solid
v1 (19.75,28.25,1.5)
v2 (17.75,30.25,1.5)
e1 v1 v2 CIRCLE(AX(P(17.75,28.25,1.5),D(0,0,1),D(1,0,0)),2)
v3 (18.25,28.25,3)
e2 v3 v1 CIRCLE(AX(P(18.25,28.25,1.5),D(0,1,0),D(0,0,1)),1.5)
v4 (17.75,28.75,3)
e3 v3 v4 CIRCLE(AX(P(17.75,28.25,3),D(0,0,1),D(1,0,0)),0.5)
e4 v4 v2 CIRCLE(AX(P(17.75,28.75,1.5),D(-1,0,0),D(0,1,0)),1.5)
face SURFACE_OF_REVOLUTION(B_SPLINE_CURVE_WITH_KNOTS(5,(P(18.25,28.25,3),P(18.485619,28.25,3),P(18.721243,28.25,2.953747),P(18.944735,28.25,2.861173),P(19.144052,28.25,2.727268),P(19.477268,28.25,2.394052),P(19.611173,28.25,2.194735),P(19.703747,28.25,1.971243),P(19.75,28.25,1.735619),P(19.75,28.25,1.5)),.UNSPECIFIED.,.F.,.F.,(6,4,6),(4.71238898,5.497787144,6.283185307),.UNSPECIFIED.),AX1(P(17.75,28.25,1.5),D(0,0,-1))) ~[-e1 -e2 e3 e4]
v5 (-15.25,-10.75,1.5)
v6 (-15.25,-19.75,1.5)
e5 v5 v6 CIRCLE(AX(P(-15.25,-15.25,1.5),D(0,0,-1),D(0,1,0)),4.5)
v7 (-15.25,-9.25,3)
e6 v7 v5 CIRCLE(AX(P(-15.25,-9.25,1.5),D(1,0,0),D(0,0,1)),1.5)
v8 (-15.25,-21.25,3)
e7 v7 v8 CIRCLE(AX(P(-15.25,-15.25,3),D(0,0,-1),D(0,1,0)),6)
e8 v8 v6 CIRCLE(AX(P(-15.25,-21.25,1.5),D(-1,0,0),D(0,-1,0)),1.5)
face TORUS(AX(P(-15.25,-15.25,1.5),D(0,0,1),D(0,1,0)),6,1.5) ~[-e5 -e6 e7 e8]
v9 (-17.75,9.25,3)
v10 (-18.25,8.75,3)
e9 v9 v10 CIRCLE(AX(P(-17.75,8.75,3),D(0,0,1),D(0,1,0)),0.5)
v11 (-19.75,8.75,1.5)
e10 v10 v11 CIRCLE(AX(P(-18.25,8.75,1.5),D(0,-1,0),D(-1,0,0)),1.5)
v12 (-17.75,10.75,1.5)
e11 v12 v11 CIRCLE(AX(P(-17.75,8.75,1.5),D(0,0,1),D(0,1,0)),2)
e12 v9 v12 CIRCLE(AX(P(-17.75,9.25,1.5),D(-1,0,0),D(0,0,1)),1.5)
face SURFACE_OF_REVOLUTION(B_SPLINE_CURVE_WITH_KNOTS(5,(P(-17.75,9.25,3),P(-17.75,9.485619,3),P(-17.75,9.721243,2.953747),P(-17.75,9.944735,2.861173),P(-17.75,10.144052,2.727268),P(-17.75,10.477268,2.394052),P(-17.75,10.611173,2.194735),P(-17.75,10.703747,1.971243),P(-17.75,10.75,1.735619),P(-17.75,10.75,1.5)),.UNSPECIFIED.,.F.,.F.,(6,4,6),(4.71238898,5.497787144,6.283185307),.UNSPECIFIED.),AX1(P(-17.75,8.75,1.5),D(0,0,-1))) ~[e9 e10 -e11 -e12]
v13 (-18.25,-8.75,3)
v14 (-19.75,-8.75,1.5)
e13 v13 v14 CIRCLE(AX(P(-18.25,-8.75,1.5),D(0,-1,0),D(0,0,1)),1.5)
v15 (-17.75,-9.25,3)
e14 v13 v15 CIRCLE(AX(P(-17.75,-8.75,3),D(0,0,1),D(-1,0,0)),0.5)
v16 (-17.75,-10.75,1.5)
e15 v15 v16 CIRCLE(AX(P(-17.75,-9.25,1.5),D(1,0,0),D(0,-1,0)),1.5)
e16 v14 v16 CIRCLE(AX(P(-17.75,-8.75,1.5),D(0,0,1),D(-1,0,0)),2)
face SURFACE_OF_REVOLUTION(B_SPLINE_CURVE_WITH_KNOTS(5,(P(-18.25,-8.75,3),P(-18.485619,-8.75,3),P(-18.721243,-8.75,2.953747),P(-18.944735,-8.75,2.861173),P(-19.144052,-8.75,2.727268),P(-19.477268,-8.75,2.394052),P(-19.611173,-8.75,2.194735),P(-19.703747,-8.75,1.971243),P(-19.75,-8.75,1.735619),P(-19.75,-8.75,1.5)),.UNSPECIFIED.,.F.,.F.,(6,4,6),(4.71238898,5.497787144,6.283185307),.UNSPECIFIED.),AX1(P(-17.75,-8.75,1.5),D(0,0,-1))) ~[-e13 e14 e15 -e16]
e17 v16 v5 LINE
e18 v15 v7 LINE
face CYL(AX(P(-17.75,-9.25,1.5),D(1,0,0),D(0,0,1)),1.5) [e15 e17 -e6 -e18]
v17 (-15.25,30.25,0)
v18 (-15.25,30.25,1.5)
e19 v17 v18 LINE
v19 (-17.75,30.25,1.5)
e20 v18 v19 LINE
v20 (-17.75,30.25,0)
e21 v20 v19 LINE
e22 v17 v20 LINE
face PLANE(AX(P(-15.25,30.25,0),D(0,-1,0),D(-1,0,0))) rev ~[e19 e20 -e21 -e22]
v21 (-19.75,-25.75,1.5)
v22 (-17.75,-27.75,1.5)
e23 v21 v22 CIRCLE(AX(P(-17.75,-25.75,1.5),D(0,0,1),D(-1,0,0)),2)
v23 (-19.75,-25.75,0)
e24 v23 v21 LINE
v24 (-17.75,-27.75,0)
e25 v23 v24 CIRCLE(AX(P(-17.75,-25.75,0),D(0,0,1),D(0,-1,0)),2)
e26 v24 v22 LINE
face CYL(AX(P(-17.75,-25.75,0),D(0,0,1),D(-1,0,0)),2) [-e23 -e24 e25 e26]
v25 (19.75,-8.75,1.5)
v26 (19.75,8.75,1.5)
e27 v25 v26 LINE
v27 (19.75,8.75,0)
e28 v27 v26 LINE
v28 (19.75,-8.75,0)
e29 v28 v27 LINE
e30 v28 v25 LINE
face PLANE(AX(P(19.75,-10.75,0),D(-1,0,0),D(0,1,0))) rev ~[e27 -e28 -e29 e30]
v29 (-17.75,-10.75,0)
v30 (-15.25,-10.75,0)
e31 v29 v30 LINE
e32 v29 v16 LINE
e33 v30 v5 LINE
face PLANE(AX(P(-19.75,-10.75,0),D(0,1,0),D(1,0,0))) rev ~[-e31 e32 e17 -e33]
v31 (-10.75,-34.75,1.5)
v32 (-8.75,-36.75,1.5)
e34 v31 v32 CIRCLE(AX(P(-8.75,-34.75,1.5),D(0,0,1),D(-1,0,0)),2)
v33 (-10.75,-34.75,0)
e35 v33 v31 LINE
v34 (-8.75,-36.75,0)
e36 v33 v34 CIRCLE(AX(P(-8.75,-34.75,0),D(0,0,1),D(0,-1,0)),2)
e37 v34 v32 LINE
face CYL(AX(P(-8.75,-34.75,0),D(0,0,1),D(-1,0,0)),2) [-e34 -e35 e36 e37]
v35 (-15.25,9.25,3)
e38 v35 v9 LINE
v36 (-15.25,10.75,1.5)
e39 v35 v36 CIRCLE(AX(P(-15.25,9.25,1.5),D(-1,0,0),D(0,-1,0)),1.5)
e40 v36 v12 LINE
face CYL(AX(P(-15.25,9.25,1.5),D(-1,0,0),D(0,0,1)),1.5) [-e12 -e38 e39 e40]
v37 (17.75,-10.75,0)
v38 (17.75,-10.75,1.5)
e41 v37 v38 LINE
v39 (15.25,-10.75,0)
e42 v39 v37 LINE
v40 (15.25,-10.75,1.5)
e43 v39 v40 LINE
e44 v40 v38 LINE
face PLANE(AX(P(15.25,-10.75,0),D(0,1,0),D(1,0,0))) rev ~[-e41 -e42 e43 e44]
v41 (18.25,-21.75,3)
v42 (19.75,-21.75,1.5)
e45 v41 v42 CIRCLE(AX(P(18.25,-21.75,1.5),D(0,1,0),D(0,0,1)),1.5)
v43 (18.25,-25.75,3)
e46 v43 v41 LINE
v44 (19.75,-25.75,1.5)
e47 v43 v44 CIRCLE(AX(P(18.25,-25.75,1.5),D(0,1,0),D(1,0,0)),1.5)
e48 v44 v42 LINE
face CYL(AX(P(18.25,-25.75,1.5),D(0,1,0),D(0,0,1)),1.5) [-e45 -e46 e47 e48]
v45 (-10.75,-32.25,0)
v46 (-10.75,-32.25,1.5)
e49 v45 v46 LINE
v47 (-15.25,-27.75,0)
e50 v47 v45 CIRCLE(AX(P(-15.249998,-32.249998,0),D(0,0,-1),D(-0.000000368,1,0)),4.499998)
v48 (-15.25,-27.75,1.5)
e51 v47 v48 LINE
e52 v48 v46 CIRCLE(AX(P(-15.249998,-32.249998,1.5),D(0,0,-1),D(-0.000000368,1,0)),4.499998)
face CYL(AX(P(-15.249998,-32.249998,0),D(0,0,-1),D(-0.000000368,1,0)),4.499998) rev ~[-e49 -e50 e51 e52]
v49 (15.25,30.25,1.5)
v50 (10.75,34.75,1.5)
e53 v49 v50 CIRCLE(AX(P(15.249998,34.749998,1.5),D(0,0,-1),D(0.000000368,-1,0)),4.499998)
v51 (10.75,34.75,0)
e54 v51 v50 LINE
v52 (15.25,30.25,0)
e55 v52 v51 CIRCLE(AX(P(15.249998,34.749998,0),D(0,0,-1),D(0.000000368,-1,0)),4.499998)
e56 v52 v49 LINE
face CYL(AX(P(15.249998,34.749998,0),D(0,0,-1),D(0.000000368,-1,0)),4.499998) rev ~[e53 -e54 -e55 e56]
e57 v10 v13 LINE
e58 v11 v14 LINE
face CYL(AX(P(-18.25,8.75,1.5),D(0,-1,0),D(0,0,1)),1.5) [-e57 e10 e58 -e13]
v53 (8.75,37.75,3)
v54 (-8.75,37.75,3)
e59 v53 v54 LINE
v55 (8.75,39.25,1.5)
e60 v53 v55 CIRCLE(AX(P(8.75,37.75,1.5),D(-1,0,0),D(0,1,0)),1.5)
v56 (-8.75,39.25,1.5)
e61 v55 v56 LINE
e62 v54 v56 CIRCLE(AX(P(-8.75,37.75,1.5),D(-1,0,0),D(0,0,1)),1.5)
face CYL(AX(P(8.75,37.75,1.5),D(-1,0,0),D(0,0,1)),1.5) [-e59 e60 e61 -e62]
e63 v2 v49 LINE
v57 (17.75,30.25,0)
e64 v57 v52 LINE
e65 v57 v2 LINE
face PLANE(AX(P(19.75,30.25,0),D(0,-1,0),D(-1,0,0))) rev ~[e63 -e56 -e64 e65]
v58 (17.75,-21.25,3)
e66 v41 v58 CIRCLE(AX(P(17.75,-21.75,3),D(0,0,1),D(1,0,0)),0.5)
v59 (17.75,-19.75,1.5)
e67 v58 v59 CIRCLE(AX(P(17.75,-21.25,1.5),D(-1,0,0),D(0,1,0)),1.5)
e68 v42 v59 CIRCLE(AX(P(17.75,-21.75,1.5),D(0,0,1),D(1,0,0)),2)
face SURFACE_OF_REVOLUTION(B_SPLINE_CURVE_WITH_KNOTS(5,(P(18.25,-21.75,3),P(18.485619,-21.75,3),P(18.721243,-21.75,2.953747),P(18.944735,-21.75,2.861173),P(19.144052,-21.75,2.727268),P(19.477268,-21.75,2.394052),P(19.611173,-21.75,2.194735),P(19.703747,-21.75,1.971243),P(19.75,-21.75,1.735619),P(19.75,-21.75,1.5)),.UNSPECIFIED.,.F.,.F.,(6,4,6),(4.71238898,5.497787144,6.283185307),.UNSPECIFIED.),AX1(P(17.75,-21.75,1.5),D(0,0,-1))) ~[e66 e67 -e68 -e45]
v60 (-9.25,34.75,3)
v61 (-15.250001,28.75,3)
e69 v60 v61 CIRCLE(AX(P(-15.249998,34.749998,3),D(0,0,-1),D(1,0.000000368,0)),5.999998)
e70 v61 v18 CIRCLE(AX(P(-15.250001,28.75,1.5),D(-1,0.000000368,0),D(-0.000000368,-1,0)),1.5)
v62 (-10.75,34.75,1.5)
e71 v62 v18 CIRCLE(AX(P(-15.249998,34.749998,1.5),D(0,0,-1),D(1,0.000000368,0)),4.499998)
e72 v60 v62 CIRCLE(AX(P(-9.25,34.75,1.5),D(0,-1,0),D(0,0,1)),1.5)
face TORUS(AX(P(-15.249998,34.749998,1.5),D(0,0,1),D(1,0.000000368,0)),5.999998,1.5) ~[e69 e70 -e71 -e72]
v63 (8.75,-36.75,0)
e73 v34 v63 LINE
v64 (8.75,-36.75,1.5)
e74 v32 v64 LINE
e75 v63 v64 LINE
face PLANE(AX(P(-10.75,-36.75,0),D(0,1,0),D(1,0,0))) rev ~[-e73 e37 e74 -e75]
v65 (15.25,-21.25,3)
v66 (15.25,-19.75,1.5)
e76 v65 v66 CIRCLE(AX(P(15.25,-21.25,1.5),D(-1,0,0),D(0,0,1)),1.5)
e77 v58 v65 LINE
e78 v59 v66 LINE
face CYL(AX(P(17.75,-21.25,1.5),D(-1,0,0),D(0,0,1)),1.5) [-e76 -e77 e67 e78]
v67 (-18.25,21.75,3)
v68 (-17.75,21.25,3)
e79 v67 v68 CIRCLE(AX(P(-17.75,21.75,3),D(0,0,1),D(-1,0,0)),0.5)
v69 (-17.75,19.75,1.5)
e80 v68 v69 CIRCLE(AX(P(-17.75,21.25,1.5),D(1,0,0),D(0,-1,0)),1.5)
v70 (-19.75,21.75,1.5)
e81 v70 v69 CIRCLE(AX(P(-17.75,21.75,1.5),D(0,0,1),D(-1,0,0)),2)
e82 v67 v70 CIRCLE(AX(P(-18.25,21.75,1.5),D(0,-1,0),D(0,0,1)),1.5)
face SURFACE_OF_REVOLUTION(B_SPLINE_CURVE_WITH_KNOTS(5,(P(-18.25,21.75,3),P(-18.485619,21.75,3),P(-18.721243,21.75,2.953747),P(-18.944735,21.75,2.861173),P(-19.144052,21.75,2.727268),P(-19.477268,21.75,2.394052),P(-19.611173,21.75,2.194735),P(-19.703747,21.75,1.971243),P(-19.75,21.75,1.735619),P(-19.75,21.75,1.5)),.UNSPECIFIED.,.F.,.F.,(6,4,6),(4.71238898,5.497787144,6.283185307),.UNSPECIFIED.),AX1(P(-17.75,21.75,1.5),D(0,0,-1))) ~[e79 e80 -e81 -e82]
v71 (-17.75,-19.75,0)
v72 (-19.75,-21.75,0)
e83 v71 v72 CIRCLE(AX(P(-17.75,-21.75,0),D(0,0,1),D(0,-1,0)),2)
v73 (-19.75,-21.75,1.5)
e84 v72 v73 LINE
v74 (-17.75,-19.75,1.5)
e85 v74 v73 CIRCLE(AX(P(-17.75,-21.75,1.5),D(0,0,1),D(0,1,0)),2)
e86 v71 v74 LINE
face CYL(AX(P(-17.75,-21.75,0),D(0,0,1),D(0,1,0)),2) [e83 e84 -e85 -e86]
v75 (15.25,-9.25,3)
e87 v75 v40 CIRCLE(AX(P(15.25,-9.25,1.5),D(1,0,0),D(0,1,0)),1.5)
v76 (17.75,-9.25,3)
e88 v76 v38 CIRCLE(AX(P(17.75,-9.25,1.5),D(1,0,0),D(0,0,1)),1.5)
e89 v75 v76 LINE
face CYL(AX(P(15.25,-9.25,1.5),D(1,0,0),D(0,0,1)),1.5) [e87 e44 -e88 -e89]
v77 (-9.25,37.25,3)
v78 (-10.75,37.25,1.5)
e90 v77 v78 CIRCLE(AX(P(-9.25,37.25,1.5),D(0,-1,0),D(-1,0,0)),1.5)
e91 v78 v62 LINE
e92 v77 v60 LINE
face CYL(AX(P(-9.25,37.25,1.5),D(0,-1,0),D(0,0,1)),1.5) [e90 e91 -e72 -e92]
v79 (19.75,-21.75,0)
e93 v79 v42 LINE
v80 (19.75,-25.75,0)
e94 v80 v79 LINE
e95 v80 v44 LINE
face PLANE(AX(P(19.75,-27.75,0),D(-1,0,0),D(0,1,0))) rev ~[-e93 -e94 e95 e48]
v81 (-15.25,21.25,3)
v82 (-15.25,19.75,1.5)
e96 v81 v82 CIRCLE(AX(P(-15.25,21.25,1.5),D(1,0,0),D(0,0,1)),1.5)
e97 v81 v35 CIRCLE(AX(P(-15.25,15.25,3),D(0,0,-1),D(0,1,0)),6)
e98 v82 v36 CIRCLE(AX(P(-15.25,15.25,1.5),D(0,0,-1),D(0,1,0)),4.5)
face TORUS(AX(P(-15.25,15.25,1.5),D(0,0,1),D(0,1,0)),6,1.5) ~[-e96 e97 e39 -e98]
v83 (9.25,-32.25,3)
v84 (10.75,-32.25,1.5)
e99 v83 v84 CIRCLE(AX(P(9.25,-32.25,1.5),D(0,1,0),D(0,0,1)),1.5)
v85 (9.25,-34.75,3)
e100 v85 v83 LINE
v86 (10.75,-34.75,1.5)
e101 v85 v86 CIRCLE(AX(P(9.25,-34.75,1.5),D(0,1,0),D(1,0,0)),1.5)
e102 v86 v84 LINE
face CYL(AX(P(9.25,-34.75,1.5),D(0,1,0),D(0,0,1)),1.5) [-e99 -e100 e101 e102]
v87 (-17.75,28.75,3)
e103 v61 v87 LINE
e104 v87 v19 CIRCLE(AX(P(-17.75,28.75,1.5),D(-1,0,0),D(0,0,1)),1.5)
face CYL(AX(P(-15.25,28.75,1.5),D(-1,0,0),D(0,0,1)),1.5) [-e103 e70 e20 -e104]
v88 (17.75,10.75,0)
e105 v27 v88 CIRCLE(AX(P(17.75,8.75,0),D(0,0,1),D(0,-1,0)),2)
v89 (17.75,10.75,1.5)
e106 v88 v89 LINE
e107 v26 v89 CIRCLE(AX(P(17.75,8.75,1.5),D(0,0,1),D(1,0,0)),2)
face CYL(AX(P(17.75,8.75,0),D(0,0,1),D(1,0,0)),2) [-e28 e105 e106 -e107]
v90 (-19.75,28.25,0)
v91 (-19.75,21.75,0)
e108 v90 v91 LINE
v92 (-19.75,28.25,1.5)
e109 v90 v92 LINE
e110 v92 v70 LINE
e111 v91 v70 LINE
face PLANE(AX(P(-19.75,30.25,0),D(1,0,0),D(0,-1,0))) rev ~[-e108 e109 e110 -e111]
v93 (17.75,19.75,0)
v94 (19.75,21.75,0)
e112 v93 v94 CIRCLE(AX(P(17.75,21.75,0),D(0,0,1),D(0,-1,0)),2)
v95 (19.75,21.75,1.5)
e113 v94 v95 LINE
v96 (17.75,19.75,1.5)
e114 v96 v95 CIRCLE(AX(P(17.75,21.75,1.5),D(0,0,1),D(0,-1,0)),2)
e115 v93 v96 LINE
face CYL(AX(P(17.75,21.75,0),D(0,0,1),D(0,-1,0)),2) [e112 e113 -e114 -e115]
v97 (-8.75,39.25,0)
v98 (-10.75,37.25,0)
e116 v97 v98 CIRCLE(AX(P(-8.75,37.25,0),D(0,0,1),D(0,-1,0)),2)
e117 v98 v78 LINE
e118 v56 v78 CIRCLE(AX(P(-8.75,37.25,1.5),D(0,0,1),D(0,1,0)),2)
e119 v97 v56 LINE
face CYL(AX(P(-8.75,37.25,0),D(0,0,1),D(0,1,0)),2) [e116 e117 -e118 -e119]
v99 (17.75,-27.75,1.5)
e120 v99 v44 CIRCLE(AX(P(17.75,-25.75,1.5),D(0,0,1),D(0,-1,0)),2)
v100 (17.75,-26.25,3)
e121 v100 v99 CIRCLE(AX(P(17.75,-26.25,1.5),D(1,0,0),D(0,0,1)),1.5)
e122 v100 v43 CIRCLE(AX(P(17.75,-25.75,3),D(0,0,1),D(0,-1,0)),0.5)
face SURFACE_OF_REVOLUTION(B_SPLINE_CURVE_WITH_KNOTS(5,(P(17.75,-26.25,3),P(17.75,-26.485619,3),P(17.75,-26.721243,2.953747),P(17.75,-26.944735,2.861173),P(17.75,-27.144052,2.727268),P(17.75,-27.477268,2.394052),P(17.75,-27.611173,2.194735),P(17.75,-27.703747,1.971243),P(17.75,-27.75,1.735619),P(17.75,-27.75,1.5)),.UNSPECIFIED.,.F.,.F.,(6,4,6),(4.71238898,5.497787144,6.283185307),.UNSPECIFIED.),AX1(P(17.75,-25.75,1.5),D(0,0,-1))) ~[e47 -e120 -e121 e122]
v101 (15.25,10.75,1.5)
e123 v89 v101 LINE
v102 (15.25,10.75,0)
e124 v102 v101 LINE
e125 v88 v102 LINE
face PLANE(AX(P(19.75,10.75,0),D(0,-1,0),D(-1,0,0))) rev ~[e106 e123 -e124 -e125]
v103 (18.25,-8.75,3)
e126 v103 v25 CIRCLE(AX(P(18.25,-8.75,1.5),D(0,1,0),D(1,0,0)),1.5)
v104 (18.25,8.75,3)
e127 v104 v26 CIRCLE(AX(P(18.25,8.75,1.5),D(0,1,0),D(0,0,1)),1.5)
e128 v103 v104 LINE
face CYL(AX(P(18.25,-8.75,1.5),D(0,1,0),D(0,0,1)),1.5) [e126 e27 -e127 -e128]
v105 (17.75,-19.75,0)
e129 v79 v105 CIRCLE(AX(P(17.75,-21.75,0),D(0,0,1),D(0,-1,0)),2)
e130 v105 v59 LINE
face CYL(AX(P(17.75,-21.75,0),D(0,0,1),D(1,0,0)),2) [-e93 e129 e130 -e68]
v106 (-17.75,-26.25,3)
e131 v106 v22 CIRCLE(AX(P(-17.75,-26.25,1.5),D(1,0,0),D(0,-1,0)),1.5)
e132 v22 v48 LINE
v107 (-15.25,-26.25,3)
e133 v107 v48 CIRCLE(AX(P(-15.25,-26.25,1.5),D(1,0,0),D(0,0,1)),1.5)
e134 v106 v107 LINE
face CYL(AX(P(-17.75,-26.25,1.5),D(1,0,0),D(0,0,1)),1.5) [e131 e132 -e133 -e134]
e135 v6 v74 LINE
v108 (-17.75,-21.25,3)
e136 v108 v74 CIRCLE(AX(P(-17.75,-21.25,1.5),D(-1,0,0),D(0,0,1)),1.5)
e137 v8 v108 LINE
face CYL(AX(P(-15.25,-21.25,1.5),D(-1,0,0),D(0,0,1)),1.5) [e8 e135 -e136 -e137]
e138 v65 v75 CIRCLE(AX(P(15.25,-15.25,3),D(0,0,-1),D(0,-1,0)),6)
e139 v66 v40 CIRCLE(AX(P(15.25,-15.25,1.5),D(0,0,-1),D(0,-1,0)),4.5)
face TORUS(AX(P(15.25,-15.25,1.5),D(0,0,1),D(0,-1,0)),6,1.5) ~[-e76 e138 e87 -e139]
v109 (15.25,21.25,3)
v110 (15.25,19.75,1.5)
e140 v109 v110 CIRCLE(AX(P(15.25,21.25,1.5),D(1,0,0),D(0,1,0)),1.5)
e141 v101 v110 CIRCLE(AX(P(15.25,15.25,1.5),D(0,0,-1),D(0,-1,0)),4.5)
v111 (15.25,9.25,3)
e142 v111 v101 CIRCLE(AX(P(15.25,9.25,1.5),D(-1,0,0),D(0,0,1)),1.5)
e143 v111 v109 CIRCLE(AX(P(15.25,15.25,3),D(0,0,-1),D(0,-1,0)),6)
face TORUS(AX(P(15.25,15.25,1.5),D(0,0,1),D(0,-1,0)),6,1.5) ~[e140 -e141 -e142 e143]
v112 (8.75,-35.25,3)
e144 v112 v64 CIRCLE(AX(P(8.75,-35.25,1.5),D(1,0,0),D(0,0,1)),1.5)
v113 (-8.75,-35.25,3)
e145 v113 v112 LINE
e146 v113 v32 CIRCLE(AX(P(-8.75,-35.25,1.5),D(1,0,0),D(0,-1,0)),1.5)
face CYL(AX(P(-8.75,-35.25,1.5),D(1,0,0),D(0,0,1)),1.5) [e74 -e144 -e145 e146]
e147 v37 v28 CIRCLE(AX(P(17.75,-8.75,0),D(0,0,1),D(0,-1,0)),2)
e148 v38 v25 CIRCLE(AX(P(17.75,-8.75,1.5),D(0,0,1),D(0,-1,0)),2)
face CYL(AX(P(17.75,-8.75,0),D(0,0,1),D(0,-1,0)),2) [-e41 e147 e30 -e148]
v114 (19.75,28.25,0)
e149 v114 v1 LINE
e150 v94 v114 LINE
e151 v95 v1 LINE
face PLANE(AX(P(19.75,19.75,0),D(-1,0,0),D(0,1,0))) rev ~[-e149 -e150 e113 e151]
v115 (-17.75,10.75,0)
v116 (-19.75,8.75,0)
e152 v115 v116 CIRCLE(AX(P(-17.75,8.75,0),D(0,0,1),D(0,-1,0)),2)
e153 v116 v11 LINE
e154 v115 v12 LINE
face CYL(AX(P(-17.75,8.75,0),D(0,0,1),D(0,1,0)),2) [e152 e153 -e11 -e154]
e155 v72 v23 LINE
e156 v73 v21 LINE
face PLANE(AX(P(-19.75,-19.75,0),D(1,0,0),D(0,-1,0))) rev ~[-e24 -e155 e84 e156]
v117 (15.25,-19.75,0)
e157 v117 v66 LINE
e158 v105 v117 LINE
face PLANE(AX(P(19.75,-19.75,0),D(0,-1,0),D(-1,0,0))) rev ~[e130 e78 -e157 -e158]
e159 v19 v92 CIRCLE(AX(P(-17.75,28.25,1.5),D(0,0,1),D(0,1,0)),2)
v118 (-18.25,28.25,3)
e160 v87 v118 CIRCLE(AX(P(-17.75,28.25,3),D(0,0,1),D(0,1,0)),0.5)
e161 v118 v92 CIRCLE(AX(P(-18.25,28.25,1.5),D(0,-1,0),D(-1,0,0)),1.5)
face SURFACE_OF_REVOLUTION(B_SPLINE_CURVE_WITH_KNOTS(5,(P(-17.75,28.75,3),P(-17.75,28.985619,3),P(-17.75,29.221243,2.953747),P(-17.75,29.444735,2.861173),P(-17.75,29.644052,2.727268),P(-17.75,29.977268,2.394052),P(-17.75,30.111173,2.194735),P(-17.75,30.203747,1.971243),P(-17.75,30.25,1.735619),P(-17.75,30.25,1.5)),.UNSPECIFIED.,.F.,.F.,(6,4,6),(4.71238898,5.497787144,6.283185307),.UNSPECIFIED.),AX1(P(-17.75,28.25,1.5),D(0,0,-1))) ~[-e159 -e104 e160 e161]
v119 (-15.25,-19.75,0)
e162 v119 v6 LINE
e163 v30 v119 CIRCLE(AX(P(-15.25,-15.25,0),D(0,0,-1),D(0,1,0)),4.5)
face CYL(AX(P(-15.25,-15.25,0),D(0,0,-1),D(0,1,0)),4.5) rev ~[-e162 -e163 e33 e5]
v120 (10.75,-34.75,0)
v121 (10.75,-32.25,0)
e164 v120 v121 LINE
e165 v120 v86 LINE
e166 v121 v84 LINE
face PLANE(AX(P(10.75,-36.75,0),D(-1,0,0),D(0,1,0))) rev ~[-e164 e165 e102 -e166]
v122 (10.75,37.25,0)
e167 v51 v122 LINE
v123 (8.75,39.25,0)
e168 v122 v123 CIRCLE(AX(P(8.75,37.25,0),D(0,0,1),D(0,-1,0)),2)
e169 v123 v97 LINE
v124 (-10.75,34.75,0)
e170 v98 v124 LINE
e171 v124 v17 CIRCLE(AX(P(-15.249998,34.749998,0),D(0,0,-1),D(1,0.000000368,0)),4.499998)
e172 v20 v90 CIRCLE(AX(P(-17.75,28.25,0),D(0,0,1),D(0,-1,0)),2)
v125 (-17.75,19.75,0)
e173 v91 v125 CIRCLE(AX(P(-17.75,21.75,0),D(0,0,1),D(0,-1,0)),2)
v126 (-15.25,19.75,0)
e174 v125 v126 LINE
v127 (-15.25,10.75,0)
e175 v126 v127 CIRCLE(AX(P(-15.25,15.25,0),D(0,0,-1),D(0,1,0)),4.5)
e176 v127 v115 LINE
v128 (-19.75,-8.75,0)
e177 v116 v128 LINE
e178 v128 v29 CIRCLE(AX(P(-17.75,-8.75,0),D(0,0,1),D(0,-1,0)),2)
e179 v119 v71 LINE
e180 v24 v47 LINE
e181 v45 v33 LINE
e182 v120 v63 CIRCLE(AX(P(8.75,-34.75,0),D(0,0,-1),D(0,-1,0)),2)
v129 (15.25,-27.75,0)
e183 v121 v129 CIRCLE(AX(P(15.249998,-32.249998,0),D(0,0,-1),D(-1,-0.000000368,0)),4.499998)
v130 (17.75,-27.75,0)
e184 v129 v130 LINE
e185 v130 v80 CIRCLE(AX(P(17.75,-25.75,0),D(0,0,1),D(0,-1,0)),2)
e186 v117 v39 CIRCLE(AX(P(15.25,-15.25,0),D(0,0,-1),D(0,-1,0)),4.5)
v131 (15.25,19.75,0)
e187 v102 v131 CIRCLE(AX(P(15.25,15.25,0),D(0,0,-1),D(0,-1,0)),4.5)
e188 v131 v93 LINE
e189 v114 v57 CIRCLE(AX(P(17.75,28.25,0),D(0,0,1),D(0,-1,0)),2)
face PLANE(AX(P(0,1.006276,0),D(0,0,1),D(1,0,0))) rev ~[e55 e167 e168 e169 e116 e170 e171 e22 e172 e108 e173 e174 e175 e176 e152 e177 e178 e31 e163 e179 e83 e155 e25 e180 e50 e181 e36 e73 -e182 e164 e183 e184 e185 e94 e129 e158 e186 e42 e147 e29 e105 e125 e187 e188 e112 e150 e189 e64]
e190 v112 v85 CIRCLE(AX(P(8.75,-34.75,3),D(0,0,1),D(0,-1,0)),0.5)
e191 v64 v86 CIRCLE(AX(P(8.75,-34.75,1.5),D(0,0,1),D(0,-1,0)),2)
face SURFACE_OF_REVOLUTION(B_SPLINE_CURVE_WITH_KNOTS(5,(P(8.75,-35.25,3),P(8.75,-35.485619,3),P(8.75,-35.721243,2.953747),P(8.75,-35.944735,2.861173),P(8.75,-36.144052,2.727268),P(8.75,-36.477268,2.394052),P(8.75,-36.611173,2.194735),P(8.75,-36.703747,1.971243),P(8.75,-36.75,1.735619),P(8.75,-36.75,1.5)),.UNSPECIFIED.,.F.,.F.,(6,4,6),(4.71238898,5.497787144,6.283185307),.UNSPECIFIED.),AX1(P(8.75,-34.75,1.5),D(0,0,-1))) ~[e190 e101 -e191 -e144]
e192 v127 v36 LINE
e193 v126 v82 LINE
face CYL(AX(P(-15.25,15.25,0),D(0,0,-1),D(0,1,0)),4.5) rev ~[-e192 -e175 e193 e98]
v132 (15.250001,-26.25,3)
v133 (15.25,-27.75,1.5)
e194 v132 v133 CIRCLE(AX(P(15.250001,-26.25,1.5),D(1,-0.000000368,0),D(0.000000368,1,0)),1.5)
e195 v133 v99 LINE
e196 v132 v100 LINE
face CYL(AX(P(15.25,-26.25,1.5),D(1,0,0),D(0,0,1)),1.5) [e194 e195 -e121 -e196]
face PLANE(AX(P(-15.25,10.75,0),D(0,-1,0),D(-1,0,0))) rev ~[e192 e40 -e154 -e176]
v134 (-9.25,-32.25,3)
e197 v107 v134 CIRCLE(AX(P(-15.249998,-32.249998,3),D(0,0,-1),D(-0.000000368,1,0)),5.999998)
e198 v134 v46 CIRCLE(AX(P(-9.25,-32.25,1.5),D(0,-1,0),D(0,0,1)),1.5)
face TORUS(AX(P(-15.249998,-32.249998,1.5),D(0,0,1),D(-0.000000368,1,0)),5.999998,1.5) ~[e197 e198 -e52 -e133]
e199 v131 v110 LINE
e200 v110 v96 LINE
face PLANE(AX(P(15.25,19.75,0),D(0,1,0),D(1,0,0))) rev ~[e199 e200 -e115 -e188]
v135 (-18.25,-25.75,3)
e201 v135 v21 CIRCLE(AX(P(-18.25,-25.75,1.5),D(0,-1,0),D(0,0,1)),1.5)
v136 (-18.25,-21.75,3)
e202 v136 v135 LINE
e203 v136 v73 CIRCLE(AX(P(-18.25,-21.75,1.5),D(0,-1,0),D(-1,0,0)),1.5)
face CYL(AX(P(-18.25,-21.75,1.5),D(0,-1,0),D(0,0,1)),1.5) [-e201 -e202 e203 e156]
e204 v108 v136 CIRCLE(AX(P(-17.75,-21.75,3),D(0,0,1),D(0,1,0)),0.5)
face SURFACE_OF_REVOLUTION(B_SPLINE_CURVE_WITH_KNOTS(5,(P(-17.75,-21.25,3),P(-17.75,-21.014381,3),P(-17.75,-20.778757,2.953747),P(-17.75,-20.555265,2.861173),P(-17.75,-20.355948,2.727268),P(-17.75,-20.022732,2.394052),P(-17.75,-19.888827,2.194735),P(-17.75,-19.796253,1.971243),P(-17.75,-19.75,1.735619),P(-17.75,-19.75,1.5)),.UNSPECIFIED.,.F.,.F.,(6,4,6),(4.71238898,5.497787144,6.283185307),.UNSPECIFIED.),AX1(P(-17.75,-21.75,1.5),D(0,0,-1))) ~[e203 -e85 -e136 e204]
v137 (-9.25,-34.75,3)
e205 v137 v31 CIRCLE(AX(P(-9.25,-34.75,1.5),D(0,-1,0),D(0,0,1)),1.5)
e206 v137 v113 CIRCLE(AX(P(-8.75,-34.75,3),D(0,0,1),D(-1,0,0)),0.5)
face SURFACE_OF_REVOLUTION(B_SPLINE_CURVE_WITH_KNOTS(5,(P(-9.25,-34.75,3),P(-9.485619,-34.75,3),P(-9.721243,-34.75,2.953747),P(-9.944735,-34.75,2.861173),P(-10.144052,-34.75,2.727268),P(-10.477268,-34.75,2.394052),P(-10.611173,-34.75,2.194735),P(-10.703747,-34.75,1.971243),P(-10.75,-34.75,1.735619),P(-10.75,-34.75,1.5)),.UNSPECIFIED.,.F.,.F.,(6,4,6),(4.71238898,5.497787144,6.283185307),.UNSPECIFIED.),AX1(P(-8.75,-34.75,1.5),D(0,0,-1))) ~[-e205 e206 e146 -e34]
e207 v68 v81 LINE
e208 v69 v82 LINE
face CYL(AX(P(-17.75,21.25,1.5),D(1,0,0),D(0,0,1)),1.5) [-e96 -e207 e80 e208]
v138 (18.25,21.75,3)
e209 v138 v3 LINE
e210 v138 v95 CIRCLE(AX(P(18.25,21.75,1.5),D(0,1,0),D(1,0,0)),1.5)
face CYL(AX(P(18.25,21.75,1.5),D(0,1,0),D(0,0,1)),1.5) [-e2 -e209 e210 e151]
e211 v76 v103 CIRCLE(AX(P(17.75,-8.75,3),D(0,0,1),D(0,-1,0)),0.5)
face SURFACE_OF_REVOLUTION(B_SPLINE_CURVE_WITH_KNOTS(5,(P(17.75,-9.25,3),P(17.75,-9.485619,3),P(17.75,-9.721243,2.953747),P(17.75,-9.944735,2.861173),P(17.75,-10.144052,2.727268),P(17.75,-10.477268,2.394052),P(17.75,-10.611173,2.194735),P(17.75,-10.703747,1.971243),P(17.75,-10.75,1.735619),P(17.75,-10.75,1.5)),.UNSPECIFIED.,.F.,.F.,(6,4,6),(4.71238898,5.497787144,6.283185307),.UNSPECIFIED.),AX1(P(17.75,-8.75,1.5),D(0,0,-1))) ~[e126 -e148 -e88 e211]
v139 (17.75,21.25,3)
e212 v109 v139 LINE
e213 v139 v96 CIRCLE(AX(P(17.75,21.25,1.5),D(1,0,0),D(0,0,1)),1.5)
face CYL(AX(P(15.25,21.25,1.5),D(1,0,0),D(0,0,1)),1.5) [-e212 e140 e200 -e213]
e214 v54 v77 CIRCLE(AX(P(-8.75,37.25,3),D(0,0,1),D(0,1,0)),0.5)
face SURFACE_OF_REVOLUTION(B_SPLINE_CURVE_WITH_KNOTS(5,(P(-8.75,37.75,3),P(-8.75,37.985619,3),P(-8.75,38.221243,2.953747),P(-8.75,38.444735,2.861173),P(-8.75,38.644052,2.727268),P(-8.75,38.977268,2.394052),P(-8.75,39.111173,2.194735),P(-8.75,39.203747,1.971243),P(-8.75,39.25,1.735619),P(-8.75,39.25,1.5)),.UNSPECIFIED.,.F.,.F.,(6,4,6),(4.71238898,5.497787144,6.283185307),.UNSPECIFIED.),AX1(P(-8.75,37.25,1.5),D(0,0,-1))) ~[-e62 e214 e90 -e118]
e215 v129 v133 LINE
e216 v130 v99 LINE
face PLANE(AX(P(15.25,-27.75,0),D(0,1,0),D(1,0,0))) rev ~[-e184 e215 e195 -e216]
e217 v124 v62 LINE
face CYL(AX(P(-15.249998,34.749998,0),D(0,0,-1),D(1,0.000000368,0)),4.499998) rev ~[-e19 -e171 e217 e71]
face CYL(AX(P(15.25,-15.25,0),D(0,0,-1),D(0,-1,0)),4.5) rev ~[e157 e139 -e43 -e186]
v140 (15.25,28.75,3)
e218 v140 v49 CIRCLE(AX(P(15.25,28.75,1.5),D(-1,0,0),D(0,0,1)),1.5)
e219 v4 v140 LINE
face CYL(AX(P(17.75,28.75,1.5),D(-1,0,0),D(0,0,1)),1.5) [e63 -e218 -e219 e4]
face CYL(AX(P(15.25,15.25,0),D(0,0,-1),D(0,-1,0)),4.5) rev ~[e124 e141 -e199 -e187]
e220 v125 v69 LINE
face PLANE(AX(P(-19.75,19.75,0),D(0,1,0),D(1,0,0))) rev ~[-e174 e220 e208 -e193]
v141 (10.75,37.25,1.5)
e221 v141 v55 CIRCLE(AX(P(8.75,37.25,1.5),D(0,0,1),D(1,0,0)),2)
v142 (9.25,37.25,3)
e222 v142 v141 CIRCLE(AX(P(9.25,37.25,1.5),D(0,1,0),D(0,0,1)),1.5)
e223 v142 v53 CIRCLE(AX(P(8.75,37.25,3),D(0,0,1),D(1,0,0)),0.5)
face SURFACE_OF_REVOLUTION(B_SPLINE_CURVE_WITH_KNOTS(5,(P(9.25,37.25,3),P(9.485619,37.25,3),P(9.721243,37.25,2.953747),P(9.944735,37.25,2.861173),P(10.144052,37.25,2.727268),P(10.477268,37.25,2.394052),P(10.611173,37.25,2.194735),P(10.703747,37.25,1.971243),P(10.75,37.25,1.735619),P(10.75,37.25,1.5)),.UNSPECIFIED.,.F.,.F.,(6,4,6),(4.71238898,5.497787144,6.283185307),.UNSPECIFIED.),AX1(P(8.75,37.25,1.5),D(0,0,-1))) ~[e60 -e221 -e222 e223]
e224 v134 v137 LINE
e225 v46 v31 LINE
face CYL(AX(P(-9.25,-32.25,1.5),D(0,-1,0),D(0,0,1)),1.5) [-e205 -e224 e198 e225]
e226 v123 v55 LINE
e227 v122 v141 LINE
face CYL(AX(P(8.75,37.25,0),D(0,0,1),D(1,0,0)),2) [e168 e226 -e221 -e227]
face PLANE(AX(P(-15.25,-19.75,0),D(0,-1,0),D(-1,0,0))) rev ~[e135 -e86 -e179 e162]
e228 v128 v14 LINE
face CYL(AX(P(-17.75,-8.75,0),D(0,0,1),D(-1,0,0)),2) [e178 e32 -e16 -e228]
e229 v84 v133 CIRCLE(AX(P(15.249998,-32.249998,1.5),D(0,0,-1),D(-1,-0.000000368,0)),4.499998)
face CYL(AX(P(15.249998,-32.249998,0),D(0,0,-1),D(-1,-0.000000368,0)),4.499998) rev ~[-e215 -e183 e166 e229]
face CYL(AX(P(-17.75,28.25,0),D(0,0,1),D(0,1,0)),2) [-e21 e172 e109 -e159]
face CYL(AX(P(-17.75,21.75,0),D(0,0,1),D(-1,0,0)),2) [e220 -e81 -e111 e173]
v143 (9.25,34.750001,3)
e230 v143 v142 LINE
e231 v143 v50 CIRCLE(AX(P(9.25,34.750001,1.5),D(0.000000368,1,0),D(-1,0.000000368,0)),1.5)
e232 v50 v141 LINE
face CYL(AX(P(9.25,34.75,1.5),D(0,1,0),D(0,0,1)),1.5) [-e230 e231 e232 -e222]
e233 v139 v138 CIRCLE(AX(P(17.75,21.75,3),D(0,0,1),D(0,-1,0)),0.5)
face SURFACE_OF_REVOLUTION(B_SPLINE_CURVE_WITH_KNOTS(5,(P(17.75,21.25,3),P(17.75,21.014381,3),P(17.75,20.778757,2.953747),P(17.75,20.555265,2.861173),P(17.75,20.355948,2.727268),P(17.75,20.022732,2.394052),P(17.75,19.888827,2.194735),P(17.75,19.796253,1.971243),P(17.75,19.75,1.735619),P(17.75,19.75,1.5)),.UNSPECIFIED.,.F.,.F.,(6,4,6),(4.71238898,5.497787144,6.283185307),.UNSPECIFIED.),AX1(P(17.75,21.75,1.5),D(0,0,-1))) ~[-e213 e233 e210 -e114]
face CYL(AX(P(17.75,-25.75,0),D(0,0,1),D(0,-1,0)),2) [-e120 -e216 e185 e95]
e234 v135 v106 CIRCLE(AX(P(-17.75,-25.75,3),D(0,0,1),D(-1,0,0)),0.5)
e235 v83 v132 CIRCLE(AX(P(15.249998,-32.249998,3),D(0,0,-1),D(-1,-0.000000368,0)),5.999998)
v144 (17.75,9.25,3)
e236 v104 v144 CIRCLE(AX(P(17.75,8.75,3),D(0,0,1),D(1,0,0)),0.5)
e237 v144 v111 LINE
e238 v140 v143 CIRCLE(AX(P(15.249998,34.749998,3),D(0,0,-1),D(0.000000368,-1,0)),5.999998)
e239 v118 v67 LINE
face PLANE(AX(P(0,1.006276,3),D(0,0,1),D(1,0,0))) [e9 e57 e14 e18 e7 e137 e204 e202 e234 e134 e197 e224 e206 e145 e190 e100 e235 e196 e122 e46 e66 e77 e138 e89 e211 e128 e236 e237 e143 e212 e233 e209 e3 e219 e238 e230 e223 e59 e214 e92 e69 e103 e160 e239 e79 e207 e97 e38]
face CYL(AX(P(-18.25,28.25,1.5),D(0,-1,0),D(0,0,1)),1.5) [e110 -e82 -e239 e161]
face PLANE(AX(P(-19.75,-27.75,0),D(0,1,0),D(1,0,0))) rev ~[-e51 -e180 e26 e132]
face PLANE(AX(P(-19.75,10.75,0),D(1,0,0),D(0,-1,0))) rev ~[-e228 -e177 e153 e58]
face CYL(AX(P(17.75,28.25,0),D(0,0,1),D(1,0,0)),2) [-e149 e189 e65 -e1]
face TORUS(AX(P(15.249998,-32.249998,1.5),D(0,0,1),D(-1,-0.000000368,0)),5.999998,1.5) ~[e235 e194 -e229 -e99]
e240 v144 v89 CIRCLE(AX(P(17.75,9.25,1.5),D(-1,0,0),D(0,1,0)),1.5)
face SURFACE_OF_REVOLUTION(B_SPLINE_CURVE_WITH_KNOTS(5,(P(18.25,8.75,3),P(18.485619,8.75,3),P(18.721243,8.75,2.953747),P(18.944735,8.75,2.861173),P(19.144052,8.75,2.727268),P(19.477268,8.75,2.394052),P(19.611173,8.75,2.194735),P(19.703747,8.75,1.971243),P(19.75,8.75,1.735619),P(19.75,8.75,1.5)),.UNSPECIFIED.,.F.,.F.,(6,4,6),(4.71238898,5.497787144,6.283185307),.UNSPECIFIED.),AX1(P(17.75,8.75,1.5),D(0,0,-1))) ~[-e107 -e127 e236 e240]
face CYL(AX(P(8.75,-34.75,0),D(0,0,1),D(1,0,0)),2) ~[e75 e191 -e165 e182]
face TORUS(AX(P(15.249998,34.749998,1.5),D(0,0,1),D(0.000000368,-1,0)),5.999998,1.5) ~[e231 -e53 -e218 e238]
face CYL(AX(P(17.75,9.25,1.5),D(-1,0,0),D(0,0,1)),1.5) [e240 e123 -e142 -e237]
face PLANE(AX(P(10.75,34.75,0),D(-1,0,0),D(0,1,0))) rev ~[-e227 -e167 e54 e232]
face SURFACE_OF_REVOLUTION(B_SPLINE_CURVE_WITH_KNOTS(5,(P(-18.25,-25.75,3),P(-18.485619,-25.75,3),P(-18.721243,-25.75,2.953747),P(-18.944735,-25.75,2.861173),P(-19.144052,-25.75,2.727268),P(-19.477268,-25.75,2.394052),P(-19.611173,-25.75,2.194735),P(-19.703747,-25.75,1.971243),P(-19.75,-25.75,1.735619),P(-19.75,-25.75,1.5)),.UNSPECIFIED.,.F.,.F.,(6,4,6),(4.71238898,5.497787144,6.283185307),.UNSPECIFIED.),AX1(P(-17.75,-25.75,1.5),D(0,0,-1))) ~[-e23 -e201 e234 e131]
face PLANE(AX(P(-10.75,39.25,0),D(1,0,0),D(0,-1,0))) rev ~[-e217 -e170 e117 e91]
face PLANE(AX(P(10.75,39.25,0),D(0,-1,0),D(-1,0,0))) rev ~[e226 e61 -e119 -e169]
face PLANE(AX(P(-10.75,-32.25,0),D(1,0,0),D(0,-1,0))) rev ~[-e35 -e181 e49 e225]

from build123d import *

# Parameters (mm, degrees)
F1_DEPTH = 3
F2_R     = 2
F3_R     = 1.5


with BuildPart() as f1:
    # F0 (on Top) → F1 (new body)
    with BuildSketch(Plane.XY):
        with BuildLine():
            Line((10.75, -36.75), (10.75, -32.25))
            ThreePointArc((10.75, -32.25), (12.068019, -29.068019), (15.25, -27.75))
            Line((15.25, -27.75), (19.75, -27.75))
            Line((19.75, -27.75), (19.75, -19.75))
            Line((19.75, -19.75), (15.25, -19.75))
            ThreePointArc((15.25, -19.75), (10.75, -15.25), (15.25, -10.75))
            Line((15.25, -10.75), (19.75, -10.75))
            Line((19.75, -10.75), (19.75, 10.75))
            Line((19.75, 10.75), (15.25, 10.75))
            ThreePointArc((15.25, 10.75), (10.75, 15.25), (15.25, 19.75))
            Line((15.25, 19.75), (19.75, 19.75))
            Line((19.75, 19.75), (19.75, 30.25))
            Line((19.75, 30.25), (15.25, 30.25))
            ThreePointArc((15.25, 30.25), (12.068019, 31.568019), (10.75, 34.75))
            Line((10.75, 34.75), (10.75, 39.25))
            Line((10.75, 39.25), (-10.75, 39.25))
            Line((-10.75, 39.25), (-10.75, 34.75))
            ThreePointArc((-10.75, 34.75), (-12.068019, 31.568019), (-15.25, 30.25))
            Line((-15.25, 30.25), (-19.75, 30.25))
            Line((-19.75, 30.25), (-19.75, 19.75))
            Line((-19.75, 19.75), (-15.25, 19.75))
            ThreePointArc((-15.25, 19.75), (-10.75, 15.25), (-15.25, 10.75))
            Line((-15.25, 10.75), (-19.75, 10.75))
            Line((-19.75, 10.75), (-19.75, -10.75))
            Line((-19.75, -10.75), (-15.25, -10.75))
            ThreePointArc((-15.25, -10.75), (-10.75, -15.25), (-15.25, -19.75))
            Line((-15.25, -19.75), (-19.75, -19.75))
            Line((-19.75, -19.75), (-19.75, -27.75))
            Line((-19.75, -27.75), (-15.25, -27.75))
            ThreePointArc((-15.25, -27.75), (-12.068019, -29.068019), (-10.75, -32.25))
            Line((-10.75, -32.25), (-10.75, -36.75))
            Line((-10.75, -36.75), (10.75, -36.75))
        make_face()
    extrude(amount=F1_DEPTH)

    # F2
    f2_edges = [f1.edges().sort_by_distance(p)[0] for p in [
        (19.75, -27.75, 1.5),
        (19.75, -19.75, 1.5),
        (19.75, -10.75, 1.5),
        (19.75, 10.75, 1.5),
        (19.75, 19.75, 1.5),
        (19.75, 30.25, 1.5),
        (10.75, 39.25, 1.5),
        (-10.75, 39.25, 1.5),
        (-19.75, 30.25, 1.5),
        (-19.75, 19.75, 1.5),
        (-19.75, 10.75, 1.5),
        (-19.75, -10.75, 1.5),
        (-19.75, -27.75, 1.5),
        (-19.75, -19.75, 1.5),
        (10.75, -36.75, 1.5),
        (-10.75, -36.75, 1.5),
    ]]
    fillet(f2_edges, radius=F2_R)

    # F3
    f3_edges = [f1.edges().sort_by_distance(p)[0] for p in [
        (-10.75, -33.5, 3),
        (-10.164214, -36.164214, 3),
        (-12.068019, -29.068019, 3),
        (0, -36.75, 3),
        (-16.5, -27.75, 3),
        (10.164214, -36.164214, 3),
        (-19.164214, -27.164214, 3),
        (10.75, -33.5, 3),
        (-19.75, -23.75, 3),
        (12.068019, -29.068019, 3),
        (-19.164214, -20.335786, 3),
        (16.5, -27.75, 3),
        (-16.5, -19.75, 3),
        (19.164214, -27.164214, 3),
        (-10.75, -15.25, 3),
        (19.75, -23.75, 3),
        (-16.5, -10.75, 3),
        (19.164214, -20.335786, 3),
        (-19.164214, -10.164214, 3),
        (16.5, -19.75, 3),
        (-19.75, 0, 3),
        (10.75, -15.25, 3),
        (-19.164214, 10.164214, 3),
        (16.5, -10.75, 3),
        (-16.5, 10.75, 3),
        (19.164214, -10.164214, 3),
        (-10.75, 15.25, 3),
        (19.75, 0, 3),
        (-16.5, 19.75, 3),
        (19.164214, 10.164214, 3),
        (-19.164214, 20.335786, 3),
        (16.5, 10.75, 3),
        (-19.75, 25, 3),
        (10.75, 15.25, 3),
        (-19.164214, 29.664214, 3),
        (16.5, 19.75, 3),
        (-16.5, 30.25, 3),
        (19.164214, 20.335786, 3),
        (-12.068019, 31.568019, 3),
        (19.75, 25, 3),
        (-10.75, 36, 3),
        (19.164214, 29.664214, 3),
        (-10.164214, 38.664214, 3),
        (16.5, 30.25, 3),
        (0, 39.25, 3),
        (12.068019, 31.568019, 3),
        (10.164214, 38.664214, 3),
        (10.75, 36, 3),
    ]]
    fillet(f3_edges, radius=F3_R)


solid = f1.part
